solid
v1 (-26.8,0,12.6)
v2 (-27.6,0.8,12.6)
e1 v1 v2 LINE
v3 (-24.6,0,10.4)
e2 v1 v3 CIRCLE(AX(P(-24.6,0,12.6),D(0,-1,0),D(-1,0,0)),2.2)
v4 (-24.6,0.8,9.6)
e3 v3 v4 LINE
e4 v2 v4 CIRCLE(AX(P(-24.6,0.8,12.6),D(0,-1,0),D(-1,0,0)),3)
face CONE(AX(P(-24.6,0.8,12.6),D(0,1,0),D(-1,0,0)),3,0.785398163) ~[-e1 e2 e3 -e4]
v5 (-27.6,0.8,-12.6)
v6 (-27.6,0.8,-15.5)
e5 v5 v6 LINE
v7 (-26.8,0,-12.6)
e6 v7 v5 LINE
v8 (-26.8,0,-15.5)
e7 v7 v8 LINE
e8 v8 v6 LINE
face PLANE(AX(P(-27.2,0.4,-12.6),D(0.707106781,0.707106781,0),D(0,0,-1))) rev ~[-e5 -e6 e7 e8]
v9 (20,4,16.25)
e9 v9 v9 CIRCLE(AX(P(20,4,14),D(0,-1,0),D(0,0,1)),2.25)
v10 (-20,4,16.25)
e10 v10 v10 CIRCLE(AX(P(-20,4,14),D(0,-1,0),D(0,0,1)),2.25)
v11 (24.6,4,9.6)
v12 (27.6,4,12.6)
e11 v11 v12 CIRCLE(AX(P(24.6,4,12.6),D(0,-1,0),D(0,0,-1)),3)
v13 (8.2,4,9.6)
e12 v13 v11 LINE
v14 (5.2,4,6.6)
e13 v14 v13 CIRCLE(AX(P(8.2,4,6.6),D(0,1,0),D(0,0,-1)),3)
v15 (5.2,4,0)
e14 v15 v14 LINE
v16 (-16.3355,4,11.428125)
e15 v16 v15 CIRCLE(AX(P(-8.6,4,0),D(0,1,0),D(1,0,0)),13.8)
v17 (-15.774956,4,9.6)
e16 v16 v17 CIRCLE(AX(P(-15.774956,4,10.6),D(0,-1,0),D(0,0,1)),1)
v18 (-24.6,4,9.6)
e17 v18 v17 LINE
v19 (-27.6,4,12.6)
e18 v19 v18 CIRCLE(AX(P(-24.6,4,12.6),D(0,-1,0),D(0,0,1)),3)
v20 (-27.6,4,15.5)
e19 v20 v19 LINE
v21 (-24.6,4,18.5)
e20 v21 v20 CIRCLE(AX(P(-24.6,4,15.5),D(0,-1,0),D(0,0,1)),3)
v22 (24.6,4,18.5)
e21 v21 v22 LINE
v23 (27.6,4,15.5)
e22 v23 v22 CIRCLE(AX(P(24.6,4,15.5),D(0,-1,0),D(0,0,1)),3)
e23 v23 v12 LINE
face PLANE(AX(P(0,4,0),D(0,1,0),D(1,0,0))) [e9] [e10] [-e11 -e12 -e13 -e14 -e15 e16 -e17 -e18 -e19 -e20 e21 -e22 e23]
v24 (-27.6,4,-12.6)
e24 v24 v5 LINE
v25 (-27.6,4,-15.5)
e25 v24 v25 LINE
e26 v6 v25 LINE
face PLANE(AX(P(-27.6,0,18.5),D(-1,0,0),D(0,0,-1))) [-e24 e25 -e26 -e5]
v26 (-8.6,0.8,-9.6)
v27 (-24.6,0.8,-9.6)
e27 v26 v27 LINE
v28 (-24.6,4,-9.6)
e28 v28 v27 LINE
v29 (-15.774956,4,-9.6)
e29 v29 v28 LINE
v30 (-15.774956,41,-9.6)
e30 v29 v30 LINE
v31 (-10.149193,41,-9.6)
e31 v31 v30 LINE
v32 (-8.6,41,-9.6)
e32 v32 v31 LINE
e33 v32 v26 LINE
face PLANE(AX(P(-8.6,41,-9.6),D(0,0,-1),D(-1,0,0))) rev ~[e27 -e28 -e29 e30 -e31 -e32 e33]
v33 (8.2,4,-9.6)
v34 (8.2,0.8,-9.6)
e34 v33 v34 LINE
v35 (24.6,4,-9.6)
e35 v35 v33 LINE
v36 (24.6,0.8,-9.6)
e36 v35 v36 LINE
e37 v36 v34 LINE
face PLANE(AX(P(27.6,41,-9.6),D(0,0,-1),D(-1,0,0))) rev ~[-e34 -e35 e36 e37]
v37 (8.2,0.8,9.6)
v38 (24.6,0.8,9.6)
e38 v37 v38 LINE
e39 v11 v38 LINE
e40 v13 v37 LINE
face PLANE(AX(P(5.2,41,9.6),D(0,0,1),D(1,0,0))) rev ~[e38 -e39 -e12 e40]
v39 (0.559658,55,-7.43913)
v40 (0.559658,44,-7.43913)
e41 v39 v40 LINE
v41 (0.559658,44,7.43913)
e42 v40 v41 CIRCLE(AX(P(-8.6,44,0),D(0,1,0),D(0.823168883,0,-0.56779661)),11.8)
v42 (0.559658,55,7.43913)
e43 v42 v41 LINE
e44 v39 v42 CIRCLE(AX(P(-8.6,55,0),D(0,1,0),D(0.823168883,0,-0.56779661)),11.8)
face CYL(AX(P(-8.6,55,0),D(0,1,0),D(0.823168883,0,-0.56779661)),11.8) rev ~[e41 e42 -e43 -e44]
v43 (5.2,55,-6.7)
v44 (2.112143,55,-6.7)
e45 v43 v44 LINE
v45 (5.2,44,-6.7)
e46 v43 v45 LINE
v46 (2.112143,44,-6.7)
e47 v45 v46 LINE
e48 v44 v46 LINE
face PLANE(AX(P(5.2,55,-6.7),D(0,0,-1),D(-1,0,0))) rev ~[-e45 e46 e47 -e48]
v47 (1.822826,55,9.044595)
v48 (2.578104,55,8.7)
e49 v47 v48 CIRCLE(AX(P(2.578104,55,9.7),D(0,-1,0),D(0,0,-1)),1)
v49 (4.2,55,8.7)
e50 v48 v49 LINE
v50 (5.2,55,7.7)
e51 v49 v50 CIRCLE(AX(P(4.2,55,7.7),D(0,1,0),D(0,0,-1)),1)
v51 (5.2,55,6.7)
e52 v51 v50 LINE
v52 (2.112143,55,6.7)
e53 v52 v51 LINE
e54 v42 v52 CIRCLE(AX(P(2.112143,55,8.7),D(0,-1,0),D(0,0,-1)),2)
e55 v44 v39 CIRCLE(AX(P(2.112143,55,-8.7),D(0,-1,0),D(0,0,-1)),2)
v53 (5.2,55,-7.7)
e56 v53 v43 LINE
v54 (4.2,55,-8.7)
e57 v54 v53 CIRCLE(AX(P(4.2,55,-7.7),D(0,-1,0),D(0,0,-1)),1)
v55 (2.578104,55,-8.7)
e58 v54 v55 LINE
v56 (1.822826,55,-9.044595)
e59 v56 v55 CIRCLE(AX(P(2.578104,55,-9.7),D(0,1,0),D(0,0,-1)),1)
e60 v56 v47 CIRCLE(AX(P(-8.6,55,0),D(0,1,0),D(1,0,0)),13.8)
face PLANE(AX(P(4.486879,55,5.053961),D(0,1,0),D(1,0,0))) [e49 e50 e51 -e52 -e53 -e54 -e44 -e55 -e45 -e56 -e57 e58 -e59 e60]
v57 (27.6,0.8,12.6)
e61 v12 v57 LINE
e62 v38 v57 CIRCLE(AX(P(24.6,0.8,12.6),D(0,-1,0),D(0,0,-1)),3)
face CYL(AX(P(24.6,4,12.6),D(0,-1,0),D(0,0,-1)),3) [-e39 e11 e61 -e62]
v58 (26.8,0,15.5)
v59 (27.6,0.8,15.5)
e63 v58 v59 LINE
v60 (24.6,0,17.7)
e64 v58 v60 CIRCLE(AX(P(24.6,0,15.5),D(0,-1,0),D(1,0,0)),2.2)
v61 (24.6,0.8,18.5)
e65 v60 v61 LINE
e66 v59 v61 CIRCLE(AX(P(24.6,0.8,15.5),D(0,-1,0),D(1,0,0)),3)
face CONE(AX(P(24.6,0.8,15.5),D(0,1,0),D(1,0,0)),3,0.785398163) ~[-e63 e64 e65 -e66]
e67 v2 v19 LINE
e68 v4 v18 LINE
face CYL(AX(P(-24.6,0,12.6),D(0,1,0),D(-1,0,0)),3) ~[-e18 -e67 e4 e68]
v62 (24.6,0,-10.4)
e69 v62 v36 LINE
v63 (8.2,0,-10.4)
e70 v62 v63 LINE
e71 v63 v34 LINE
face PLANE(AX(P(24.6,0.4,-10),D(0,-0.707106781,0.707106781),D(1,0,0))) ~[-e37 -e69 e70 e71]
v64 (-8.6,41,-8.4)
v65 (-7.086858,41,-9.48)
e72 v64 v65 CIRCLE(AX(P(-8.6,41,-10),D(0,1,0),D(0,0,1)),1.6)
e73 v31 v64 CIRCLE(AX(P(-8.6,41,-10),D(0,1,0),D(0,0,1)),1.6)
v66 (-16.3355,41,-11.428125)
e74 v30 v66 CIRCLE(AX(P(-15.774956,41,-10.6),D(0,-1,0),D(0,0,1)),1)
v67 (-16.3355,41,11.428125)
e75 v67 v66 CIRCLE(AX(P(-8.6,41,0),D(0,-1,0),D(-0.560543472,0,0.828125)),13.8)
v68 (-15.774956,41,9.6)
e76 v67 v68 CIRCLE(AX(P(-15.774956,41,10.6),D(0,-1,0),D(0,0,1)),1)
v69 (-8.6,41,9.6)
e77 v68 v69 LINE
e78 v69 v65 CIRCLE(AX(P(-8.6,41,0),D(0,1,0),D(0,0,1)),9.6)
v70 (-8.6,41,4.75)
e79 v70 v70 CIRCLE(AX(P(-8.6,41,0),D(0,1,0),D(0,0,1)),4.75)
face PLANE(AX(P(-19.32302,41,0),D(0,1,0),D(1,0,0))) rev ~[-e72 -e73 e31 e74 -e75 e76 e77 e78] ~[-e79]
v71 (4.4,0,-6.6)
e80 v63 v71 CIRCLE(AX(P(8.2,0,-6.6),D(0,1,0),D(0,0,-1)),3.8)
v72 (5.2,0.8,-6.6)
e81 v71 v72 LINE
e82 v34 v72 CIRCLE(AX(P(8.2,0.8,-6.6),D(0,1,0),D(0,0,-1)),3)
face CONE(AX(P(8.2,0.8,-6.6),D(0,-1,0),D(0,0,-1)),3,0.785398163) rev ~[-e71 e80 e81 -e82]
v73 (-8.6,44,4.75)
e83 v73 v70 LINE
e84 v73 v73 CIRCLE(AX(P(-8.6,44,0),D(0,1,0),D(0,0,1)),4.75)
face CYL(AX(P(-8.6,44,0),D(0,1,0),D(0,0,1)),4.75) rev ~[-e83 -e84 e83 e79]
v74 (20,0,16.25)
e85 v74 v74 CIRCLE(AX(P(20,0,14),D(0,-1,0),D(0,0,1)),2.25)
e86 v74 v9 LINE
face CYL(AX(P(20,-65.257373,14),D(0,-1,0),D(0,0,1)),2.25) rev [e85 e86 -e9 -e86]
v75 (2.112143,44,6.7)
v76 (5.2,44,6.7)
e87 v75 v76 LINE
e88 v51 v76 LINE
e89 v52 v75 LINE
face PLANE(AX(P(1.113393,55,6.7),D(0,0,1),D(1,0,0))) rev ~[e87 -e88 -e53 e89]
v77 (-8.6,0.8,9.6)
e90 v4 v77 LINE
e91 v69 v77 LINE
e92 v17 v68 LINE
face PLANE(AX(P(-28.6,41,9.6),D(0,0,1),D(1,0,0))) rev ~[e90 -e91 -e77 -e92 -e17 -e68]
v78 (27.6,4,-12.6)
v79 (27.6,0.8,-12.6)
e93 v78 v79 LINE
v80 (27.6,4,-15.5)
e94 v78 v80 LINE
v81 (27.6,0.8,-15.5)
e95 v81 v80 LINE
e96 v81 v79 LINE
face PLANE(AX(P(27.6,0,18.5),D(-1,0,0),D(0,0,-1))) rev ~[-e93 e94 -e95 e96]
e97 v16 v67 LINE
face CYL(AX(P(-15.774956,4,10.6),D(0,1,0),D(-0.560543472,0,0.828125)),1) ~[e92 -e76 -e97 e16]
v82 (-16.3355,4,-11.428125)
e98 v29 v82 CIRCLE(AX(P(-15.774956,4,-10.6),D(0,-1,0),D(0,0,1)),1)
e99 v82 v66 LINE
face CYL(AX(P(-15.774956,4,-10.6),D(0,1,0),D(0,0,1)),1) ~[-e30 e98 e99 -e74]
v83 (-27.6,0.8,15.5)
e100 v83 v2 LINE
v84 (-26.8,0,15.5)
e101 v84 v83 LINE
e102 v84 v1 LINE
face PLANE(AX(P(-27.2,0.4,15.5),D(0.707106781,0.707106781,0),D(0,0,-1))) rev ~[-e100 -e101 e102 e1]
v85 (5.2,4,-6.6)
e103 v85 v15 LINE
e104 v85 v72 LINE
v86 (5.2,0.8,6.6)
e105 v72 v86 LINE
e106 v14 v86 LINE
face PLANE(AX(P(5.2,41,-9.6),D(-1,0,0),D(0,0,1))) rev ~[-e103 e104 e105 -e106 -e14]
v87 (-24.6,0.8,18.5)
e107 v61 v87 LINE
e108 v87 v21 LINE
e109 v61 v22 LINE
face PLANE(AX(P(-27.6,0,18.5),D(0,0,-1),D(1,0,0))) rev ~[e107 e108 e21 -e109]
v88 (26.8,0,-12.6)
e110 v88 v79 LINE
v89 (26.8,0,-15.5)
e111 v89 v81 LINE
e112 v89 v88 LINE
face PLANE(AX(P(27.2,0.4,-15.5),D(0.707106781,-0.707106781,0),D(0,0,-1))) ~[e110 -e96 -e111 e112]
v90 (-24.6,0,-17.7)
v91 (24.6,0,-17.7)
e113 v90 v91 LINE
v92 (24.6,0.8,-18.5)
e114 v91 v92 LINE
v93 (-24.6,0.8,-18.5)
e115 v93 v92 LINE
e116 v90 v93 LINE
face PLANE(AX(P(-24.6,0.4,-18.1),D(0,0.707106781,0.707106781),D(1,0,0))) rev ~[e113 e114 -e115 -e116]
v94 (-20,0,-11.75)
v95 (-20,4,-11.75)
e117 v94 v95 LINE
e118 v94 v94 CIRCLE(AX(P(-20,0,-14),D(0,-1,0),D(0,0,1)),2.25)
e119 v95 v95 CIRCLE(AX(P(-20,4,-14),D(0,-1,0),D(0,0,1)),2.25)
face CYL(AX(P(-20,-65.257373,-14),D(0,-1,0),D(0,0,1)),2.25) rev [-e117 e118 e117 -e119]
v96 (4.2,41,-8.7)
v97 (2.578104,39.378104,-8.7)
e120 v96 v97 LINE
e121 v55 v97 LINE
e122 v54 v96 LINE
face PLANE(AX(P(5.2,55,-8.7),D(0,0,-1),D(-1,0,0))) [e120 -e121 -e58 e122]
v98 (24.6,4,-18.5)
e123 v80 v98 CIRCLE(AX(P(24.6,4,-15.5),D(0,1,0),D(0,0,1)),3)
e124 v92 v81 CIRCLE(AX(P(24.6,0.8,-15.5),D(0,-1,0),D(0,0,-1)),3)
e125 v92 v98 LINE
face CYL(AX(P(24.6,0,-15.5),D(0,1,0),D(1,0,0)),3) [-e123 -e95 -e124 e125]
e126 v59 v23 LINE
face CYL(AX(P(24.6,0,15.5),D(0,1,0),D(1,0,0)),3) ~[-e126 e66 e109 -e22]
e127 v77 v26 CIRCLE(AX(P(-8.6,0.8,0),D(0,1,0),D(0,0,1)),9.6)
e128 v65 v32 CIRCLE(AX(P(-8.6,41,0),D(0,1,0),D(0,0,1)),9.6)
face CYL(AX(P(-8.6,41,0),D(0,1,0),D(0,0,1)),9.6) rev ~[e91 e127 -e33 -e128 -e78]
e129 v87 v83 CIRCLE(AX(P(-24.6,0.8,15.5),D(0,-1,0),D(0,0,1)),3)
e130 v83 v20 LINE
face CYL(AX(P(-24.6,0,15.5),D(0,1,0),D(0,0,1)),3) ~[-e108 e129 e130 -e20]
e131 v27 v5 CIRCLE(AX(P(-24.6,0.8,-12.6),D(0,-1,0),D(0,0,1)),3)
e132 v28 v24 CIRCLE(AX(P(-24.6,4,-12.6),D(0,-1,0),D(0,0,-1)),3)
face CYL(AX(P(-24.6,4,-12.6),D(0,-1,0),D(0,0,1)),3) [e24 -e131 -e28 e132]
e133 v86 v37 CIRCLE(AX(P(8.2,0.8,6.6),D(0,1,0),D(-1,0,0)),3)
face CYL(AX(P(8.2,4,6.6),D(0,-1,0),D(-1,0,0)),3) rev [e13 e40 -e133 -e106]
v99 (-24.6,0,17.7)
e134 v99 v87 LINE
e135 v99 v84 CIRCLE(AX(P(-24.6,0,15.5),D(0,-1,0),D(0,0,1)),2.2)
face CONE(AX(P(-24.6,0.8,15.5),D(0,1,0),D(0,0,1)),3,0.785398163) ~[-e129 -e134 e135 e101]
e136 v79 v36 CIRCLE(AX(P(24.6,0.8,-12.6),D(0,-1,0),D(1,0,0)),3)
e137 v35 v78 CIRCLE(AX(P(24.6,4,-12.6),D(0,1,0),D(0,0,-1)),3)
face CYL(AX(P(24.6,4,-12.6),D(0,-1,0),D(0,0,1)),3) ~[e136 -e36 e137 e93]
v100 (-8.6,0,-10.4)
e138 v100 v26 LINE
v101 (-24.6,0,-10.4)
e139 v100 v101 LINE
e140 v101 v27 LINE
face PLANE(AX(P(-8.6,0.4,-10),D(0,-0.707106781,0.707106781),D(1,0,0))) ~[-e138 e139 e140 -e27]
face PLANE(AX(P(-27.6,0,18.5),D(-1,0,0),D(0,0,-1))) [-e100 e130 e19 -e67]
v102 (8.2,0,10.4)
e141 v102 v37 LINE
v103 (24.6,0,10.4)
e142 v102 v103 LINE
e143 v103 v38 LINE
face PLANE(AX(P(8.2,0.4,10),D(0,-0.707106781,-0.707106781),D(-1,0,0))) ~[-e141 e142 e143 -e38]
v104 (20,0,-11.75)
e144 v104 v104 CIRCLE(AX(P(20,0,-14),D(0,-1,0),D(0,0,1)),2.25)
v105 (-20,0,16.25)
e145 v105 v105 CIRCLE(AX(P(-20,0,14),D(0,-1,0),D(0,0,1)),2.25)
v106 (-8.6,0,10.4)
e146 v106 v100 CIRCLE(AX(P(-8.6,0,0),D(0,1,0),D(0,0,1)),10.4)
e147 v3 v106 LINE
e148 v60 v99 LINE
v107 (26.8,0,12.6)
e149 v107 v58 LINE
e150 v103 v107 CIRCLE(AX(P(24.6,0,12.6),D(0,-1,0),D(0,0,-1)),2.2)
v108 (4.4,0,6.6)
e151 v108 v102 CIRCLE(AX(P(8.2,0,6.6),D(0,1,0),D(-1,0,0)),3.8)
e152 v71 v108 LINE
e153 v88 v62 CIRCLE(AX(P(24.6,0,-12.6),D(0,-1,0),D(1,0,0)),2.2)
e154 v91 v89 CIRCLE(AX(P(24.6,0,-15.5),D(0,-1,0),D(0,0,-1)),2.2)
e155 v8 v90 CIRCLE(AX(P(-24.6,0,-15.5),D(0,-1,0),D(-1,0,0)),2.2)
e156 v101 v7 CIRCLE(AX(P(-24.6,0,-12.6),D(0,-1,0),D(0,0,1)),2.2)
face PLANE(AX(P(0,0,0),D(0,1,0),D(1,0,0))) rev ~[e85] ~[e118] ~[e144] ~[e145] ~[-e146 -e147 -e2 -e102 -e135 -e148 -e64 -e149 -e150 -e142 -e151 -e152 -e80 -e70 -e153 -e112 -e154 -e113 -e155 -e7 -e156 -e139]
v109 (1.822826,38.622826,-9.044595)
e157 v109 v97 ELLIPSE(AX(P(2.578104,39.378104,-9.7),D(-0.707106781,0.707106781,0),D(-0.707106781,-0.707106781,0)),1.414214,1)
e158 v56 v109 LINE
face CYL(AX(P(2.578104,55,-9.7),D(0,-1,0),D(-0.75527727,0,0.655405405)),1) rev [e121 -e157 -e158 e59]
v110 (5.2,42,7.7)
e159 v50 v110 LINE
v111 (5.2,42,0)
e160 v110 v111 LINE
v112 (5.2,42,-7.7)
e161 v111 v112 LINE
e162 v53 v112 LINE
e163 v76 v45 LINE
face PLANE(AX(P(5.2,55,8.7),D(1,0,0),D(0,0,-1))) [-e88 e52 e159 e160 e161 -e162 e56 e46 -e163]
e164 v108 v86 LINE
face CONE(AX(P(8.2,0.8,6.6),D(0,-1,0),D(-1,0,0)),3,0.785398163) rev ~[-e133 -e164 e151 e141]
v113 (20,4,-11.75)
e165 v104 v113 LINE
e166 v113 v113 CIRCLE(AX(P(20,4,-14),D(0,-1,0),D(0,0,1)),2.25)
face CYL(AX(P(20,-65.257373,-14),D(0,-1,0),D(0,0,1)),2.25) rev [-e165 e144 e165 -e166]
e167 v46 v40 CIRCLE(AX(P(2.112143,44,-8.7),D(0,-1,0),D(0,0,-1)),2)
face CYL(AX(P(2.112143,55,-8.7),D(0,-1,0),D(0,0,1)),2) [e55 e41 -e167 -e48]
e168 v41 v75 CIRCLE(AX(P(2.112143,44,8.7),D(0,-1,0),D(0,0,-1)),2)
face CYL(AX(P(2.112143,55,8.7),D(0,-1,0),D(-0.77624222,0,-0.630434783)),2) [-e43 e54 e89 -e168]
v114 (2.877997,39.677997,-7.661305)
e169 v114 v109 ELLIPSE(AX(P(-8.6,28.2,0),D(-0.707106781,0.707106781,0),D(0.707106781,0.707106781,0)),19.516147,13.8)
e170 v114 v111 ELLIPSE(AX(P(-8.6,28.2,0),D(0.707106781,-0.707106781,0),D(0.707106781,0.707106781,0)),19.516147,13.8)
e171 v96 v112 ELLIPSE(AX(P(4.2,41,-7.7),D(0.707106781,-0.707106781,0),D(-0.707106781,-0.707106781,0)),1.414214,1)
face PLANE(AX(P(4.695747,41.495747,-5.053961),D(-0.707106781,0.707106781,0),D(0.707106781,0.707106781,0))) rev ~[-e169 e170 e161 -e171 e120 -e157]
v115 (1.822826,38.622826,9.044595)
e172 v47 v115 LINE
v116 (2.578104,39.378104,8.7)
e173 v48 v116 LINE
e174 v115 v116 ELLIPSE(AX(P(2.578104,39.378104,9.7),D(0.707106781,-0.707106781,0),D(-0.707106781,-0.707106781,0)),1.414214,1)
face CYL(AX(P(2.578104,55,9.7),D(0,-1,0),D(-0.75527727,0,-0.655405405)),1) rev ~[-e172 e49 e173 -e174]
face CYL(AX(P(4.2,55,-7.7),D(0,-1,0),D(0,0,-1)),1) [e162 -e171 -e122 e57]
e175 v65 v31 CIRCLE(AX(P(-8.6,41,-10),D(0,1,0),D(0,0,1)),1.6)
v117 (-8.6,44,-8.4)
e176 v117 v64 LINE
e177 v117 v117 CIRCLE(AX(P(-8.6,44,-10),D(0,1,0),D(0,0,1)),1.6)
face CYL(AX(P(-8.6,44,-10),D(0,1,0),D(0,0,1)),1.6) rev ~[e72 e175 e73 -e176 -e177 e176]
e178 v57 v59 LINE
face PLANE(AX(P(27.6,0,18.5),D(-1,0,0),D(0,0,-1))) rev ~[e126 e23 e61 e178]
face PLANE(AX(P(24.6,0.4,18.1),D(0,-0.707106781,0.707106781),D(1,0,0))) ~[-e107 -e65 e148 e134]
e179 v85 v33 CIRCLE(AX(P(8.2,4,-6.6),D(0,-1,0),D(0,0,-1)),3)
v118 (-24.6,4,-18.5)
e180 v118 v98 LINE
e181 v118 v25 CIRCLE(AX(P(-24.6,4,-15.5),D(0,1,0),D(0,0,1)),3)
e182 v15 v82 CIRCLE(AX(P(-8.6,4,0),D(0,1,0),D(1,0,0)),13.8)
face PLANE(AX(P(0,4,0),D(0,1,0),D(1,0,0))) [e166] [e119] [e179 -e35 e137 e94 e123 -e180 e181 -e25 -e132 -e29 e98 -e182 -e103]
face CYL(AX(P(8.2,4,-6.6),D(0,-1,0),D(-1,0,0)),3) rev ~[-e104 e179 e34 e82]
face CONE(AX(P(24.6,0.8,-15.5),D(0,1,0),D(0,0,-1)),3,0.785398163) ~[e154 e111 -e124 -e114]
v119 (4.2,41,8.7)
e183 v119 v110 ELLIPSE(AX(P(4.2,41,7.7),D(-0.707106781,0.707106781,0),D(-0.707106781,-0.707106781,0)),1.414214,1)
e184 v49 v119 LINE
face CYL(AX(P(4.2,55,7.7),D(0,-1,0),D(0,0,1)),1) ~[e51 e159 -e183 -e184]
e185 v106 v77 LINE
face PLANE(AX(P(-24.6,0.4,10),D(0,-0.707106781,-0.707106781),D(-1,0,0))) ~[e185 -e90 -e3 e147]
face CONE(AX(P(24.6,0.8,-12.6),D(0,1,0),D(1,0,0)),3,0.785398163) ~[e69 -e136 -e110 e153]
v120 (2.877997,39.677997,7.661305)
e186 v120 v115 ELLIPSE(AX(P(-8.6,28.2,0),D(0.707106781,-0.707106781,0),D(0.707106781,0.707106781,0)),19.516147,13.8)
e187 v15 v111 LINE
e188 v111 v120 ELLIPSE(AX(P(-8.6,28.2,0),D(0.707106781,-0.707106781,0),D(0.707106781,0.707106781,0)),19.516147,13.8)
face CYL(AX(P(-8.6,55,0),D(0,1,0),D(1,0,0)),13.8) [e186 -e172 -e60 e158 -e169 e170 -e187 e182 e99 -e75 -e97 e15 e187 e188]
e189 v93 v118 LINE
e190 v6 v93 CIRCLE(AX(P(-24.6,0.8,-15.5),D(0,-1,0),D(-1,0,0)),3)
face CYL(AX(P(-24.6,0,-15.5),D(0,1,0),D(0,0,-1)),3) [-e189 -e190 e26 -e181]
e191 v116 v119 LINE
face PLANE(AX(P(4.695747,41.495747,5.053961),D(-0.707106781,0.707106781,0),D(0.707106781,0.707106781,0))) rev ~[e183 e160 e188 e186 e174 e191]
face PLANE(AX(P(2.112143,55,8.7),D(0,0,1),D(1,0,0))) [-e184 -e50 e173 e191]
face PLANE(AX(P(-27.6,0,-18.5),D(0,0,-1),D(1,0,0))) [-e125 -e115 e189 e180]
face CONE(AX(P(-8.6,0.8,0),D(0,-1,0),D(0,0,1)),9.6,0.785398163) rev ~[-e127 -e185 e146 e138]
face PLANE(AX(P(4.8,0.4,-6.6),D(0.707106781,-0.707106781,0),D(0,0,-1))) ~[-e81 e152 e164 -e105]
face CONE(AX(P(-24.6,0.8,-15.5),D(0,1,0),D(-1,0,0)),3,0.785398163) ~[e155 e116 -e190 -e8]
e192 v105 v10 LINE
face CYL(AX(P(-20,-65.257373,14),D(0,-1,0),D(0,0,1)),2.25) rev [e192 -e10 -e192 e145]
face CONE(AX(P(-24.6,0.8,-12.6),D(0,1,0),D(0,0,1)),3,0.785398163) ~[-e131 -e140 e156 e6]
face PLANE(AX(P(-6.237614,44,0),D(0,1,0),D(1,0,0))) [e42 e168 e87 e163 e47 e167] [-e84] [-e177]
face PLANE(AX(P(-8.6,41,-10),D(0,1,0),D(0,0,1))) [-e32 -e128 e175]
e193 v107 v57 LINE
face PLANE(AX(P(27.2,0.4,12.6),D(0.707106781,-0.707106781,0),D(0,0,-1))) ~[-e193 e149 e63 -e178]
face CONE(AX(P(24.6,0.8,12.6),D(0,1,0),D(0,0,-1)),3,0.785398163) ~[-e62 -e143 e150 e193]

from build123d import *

# Parameters (mm, degrees)
SKETCH5_R                = 13.8
BOSS_EXTRUDE10_DEPTH     = 55
BOSS_EXTRUDE13_DEPTH     = 13
SKETCH7_W                = 55.2
SKETCH7_H                = 37
BOSS_EXTRUDE11_DEPTH     = 4
SKETCH14_R               = 9.6
CUT_EXTRUDE9_DEPTH       = 53.773193953
FILLET1_R                = 1
FILLET3_R                = 3
CUT_EXTRUDE11_DEPTH      = 65.257373118
CUT_EXTRUDE11_DEPTH_BACK = 65.257373118
SKETCH2_R                = 2.25
CUT_EXTRUDE12_DEPTH      = 11
CHAMFER1_SIZE            = 0.8
FILLET7_R                = 1
SKETCH16_R               = 4.75
CUT_EXTRUDE13_DEPTH      = 56.136285693
SKETCH17_R               = 1.6
CUT_EXTRUDE14_DEPTH      = 3
FILLET8_R                = 2
DRAFT1_ANGLE             = 45


with BuildPart() as part:
    # Sketch5 → Boss-Extrude10 (new body)
    with BuildSketch(Plane(origin=(0, 55, 0), x_dir=(1, 0, 0), z_dir=(0, 1, 0))):
        with Locations((-8.6, 0)):
            Circle(SKETCH5_R)
    extrude(amount=-BOSS_EXTRUDE10_DEPTH)

    # Sketch5<9> → Boss-Extrude13 (add)
    with BuildSketch(Plane(origin=(0, 55, 0), x_dir=(1, 0, 0), z_dir=(0, 1, 0))):
        with BuildLine():
            Line((5.2, -8.7), (5.2, 8.4e-08))
            ThreePointArc((5.2, 8.4e-08), (4.405144544, -4.615865618), (2.112142643, -8.7))
            Line((2.112142643, -8.7), (5.2, -8.7))
        make_face()
        with BuildLine():
            Line((5.2, 8.4e-08), (5.2, 8.7))
            Line((5.2, 8.7), (2.112142643, 8.7))
            ThreePointArc((2.112142643, 8.7), (4.405144516, 4.615865697), (5.2, 8.4e-08))
        make_face()
    extrude(amount=-BOSS_EXTRUDE13_DEPTH)

    # Sketch7 → Boss-Extrude11 (add)
    with BuildSketch(Plane(origin=(0, 0, 0), x_dir=(1, 0, 0), z_dir=(0, 1, 0))):
        Rectangle(SKETCH7_W, SKETCH7_H)
    extrude(amount=BOSS_EXTRUDE11_DEPTH)

    # Sketch14 → Cut-Extrude9 (cut, through all)
    with BuildSketch(Plane(origin=(0, 41, 0), x_dir=(1, 0, 0), z_dir=(0, 1, 0))):
        with BuildLine():
            Line((-28.6, -9.6), (-8.6, -9.6))
            ThreePointArc((-8.6, -9.6), (-18.2, 0), (-8.6, 9.6))
            Line((-8.6, 9.6), (-28.6, 9.6))
            Line((-28.6, 9.6), (-28.6, -9.6))
        make_face()
        with Locations((-8.6, 0)):
            Circle(SKETCH14_R)
        Polygon((5.2, -9.6), (27.6, -9.6), (27.6, 9.6), (5.2, 9.6), (5.2, 0), align=None)
    extrude(amount=-CUT_EXTRUDE9_DEPTH, mode=Mode.SUBTRACT)

    # Fillet1
    fillet1_edges = [part.edges().sort_by_distance(p)[0] for p in [
        (-18.513626985, 22.5, -9.6),
        (-18.513626985, 22.5, 9.6),
    ]]
    fillet(fillet1_edges, radius=FILLET1_R)

    # Fillet3
    fillet3_edges = [part.edges().sort_by_distance(p)[0] for p in [
        (27.6, 2, -18.5),
        (-27.6, 2, -18.5),
        (-27.6, 2, 18.5),
        (27.6, 2, 18.5),
        (-27.6, 2, -9.6),
        (-27.6, 2, 9.6),
        (5.2, 2, 9.6),
        (5.2, 2, -9.6),
        (27.6, 2, -9.6),
        (27.6, 2, 9.6),
    ]]
    fillet(fillet3_edges, radius=FILLET3_R)

    # Sketch2 → Cut-Extrude11 (cut, two sides: drawn at the far end of the back side and taken through both)
    with BuildSketch(Plane(origin=(0, 0, 0), x_dir=(1, 0, 0), z_dir=(0, 1, 0)).offset(-CUT_EXTRUDE11_DEPTH_BACK)):
        with Locations(Location((-20, 14, 0), (0, 0, 270))):
            Circle(SKETCH2_R)
        with Locations(Location((20, 14, 0), (0, 0, 270))):
            Circle(SKETCH2_R)
        with Locations(Location((20, -14, 0), (0, 0, 270))):
            Circle(SKETCH2_R)
        with Locations(Location((-20, -14, 0), (0, 0, 270))):
            Circle(SKETCH2_R)
    extrude(amount=CUT_EXTRUDE11_DEPTH + CUT_EXTRUDE11_DEPTH_BACK, mode=Mode.SUBTRACT)

    # Sketch15 → Cut-Extrude12 (cut)
    with BuildSketch(Plane(origin=(0, 55, 0), x_dir=(1, 0, 0), z_dir=(0, 1, 0))):
        with BuildLine():
            Line((4.1, -6.7), (5.2, -6.7))
            Line((5.2, -6.7), (5.2, 6.7))
            Line((5.2, 6.7), (4.1, 6.7))
            Line((4.1, 6.7), (1.113392816, 6.7))
            ThreePointArc((1.113392816, 6.7), (-20.4, 0), (1.113392816, -6.7))
            Line((1.113392816, -6.7), (4.1, -6.7))
        make_face()
    extrude(amount=-CUT_EXTRUDE12_DEPTH, mode=Mode.SUBTRACT)

    # Chamfer1
    chamfer1_edges = [part.edges().sort_by_distance(p)[0] for p in [
        (16.4, 0, -9.6),
        (27.6, 0, -14.05),
        (-27.6, 0, -14.05),
        (0, 0, -18.5),
        (5.2, 0, 0),
        (16.4, 0, 9.6),
        (27.6, 0, 14.05),
        (0, 0, 18.5),
        (-27.6, 0, 14.05),
        (-26.721320344, 0, 17.621320344),
        (26.721320344, 0, 17.621320344),
        (26.721320344, 0, -17.621320344),
        (-26.721320344, 0, -17.621320344),
        (-26.721320344, 0, -10.478679656),
        (-26.721320344, 0, 10.478679656),
        (26.721320344, 0, 10.478679656),
        (26.721320344, 0, -10.478679656),
        (6.078679656, 0, -8.721320344),
        (6.078679656, 0, 8.721320344),
        (-16.6, 0, 9.6),
        (-16.6, 0, -9.6),
        (1, 0, 0),
    ]]
    chamfer(chamfer1_edges, length=CHAMFER1_SIZE)

    # Fillet7
    fillet7_edges = [part.edges().sort_by_distance(p)[0] for p in [
        (5.2, 48.5, 8.7),
        (2.112142643, 48.5, 8.7),
        (2.112142643, 48.5, -8.7),
        (5.2, 48.5, -8.7),
    ]]
    fillet(fillet7_edges, radius=FILLET7_R)

    # Sketch16 → Cut-Extrude13 (cut, through all)
    with BuildSketch(Plane(origin=(0, 44, 0), x_dir=(1, 0, 0), z_dir=(0, 1, 0))):
        with Locations(Location((-8.6, 0, 0), (0, 0, 270))):
            Circle(SKETCH16_R)
    extrude(amount=-CUT_EXTRUDE13_DEPTH, mode=Mode.SUBTRACT)

    # Sketch17 → Cut-Extrude14 (cut)
    with BuildSketch(Plane(origin=(0, 44, 0), x_dir=(1, 0, 0), z_dir=(0, 1, 0))):
        with Locations(Location((-8.6, 10, 0), (0, 0, 270))):
            Circle(SKETCH17_R)
    extrude(amount=-CUT_EXTRUDE14_DEPTH, mode=Mode.SUBTRACT)

    # Fillet8
    fillet8_edges = [part.edges().sort_by_distance(p)[0] for p in [
        (1.113392816, 49.5, -6.7),
        (1.113392816, 49.5, 6.7),
    ]]
    fillet(fillet8_edges, radius=FILLET8_R)

    # Draft1
    draft1_faces = [part.faces().sort_by_distance(p)[0] for p in [
        (4.269454108, 42, -6.535437948),
        (4.269454108, 42, 6.535437948),
    ]]
    draft(draft1_faces, Plane(origin=(5.2, 42, 0), x_dir=(0, 0, 1), z_dir=(1, 0, 0)), DRAFT1_ANGLE)


solid = part.part
